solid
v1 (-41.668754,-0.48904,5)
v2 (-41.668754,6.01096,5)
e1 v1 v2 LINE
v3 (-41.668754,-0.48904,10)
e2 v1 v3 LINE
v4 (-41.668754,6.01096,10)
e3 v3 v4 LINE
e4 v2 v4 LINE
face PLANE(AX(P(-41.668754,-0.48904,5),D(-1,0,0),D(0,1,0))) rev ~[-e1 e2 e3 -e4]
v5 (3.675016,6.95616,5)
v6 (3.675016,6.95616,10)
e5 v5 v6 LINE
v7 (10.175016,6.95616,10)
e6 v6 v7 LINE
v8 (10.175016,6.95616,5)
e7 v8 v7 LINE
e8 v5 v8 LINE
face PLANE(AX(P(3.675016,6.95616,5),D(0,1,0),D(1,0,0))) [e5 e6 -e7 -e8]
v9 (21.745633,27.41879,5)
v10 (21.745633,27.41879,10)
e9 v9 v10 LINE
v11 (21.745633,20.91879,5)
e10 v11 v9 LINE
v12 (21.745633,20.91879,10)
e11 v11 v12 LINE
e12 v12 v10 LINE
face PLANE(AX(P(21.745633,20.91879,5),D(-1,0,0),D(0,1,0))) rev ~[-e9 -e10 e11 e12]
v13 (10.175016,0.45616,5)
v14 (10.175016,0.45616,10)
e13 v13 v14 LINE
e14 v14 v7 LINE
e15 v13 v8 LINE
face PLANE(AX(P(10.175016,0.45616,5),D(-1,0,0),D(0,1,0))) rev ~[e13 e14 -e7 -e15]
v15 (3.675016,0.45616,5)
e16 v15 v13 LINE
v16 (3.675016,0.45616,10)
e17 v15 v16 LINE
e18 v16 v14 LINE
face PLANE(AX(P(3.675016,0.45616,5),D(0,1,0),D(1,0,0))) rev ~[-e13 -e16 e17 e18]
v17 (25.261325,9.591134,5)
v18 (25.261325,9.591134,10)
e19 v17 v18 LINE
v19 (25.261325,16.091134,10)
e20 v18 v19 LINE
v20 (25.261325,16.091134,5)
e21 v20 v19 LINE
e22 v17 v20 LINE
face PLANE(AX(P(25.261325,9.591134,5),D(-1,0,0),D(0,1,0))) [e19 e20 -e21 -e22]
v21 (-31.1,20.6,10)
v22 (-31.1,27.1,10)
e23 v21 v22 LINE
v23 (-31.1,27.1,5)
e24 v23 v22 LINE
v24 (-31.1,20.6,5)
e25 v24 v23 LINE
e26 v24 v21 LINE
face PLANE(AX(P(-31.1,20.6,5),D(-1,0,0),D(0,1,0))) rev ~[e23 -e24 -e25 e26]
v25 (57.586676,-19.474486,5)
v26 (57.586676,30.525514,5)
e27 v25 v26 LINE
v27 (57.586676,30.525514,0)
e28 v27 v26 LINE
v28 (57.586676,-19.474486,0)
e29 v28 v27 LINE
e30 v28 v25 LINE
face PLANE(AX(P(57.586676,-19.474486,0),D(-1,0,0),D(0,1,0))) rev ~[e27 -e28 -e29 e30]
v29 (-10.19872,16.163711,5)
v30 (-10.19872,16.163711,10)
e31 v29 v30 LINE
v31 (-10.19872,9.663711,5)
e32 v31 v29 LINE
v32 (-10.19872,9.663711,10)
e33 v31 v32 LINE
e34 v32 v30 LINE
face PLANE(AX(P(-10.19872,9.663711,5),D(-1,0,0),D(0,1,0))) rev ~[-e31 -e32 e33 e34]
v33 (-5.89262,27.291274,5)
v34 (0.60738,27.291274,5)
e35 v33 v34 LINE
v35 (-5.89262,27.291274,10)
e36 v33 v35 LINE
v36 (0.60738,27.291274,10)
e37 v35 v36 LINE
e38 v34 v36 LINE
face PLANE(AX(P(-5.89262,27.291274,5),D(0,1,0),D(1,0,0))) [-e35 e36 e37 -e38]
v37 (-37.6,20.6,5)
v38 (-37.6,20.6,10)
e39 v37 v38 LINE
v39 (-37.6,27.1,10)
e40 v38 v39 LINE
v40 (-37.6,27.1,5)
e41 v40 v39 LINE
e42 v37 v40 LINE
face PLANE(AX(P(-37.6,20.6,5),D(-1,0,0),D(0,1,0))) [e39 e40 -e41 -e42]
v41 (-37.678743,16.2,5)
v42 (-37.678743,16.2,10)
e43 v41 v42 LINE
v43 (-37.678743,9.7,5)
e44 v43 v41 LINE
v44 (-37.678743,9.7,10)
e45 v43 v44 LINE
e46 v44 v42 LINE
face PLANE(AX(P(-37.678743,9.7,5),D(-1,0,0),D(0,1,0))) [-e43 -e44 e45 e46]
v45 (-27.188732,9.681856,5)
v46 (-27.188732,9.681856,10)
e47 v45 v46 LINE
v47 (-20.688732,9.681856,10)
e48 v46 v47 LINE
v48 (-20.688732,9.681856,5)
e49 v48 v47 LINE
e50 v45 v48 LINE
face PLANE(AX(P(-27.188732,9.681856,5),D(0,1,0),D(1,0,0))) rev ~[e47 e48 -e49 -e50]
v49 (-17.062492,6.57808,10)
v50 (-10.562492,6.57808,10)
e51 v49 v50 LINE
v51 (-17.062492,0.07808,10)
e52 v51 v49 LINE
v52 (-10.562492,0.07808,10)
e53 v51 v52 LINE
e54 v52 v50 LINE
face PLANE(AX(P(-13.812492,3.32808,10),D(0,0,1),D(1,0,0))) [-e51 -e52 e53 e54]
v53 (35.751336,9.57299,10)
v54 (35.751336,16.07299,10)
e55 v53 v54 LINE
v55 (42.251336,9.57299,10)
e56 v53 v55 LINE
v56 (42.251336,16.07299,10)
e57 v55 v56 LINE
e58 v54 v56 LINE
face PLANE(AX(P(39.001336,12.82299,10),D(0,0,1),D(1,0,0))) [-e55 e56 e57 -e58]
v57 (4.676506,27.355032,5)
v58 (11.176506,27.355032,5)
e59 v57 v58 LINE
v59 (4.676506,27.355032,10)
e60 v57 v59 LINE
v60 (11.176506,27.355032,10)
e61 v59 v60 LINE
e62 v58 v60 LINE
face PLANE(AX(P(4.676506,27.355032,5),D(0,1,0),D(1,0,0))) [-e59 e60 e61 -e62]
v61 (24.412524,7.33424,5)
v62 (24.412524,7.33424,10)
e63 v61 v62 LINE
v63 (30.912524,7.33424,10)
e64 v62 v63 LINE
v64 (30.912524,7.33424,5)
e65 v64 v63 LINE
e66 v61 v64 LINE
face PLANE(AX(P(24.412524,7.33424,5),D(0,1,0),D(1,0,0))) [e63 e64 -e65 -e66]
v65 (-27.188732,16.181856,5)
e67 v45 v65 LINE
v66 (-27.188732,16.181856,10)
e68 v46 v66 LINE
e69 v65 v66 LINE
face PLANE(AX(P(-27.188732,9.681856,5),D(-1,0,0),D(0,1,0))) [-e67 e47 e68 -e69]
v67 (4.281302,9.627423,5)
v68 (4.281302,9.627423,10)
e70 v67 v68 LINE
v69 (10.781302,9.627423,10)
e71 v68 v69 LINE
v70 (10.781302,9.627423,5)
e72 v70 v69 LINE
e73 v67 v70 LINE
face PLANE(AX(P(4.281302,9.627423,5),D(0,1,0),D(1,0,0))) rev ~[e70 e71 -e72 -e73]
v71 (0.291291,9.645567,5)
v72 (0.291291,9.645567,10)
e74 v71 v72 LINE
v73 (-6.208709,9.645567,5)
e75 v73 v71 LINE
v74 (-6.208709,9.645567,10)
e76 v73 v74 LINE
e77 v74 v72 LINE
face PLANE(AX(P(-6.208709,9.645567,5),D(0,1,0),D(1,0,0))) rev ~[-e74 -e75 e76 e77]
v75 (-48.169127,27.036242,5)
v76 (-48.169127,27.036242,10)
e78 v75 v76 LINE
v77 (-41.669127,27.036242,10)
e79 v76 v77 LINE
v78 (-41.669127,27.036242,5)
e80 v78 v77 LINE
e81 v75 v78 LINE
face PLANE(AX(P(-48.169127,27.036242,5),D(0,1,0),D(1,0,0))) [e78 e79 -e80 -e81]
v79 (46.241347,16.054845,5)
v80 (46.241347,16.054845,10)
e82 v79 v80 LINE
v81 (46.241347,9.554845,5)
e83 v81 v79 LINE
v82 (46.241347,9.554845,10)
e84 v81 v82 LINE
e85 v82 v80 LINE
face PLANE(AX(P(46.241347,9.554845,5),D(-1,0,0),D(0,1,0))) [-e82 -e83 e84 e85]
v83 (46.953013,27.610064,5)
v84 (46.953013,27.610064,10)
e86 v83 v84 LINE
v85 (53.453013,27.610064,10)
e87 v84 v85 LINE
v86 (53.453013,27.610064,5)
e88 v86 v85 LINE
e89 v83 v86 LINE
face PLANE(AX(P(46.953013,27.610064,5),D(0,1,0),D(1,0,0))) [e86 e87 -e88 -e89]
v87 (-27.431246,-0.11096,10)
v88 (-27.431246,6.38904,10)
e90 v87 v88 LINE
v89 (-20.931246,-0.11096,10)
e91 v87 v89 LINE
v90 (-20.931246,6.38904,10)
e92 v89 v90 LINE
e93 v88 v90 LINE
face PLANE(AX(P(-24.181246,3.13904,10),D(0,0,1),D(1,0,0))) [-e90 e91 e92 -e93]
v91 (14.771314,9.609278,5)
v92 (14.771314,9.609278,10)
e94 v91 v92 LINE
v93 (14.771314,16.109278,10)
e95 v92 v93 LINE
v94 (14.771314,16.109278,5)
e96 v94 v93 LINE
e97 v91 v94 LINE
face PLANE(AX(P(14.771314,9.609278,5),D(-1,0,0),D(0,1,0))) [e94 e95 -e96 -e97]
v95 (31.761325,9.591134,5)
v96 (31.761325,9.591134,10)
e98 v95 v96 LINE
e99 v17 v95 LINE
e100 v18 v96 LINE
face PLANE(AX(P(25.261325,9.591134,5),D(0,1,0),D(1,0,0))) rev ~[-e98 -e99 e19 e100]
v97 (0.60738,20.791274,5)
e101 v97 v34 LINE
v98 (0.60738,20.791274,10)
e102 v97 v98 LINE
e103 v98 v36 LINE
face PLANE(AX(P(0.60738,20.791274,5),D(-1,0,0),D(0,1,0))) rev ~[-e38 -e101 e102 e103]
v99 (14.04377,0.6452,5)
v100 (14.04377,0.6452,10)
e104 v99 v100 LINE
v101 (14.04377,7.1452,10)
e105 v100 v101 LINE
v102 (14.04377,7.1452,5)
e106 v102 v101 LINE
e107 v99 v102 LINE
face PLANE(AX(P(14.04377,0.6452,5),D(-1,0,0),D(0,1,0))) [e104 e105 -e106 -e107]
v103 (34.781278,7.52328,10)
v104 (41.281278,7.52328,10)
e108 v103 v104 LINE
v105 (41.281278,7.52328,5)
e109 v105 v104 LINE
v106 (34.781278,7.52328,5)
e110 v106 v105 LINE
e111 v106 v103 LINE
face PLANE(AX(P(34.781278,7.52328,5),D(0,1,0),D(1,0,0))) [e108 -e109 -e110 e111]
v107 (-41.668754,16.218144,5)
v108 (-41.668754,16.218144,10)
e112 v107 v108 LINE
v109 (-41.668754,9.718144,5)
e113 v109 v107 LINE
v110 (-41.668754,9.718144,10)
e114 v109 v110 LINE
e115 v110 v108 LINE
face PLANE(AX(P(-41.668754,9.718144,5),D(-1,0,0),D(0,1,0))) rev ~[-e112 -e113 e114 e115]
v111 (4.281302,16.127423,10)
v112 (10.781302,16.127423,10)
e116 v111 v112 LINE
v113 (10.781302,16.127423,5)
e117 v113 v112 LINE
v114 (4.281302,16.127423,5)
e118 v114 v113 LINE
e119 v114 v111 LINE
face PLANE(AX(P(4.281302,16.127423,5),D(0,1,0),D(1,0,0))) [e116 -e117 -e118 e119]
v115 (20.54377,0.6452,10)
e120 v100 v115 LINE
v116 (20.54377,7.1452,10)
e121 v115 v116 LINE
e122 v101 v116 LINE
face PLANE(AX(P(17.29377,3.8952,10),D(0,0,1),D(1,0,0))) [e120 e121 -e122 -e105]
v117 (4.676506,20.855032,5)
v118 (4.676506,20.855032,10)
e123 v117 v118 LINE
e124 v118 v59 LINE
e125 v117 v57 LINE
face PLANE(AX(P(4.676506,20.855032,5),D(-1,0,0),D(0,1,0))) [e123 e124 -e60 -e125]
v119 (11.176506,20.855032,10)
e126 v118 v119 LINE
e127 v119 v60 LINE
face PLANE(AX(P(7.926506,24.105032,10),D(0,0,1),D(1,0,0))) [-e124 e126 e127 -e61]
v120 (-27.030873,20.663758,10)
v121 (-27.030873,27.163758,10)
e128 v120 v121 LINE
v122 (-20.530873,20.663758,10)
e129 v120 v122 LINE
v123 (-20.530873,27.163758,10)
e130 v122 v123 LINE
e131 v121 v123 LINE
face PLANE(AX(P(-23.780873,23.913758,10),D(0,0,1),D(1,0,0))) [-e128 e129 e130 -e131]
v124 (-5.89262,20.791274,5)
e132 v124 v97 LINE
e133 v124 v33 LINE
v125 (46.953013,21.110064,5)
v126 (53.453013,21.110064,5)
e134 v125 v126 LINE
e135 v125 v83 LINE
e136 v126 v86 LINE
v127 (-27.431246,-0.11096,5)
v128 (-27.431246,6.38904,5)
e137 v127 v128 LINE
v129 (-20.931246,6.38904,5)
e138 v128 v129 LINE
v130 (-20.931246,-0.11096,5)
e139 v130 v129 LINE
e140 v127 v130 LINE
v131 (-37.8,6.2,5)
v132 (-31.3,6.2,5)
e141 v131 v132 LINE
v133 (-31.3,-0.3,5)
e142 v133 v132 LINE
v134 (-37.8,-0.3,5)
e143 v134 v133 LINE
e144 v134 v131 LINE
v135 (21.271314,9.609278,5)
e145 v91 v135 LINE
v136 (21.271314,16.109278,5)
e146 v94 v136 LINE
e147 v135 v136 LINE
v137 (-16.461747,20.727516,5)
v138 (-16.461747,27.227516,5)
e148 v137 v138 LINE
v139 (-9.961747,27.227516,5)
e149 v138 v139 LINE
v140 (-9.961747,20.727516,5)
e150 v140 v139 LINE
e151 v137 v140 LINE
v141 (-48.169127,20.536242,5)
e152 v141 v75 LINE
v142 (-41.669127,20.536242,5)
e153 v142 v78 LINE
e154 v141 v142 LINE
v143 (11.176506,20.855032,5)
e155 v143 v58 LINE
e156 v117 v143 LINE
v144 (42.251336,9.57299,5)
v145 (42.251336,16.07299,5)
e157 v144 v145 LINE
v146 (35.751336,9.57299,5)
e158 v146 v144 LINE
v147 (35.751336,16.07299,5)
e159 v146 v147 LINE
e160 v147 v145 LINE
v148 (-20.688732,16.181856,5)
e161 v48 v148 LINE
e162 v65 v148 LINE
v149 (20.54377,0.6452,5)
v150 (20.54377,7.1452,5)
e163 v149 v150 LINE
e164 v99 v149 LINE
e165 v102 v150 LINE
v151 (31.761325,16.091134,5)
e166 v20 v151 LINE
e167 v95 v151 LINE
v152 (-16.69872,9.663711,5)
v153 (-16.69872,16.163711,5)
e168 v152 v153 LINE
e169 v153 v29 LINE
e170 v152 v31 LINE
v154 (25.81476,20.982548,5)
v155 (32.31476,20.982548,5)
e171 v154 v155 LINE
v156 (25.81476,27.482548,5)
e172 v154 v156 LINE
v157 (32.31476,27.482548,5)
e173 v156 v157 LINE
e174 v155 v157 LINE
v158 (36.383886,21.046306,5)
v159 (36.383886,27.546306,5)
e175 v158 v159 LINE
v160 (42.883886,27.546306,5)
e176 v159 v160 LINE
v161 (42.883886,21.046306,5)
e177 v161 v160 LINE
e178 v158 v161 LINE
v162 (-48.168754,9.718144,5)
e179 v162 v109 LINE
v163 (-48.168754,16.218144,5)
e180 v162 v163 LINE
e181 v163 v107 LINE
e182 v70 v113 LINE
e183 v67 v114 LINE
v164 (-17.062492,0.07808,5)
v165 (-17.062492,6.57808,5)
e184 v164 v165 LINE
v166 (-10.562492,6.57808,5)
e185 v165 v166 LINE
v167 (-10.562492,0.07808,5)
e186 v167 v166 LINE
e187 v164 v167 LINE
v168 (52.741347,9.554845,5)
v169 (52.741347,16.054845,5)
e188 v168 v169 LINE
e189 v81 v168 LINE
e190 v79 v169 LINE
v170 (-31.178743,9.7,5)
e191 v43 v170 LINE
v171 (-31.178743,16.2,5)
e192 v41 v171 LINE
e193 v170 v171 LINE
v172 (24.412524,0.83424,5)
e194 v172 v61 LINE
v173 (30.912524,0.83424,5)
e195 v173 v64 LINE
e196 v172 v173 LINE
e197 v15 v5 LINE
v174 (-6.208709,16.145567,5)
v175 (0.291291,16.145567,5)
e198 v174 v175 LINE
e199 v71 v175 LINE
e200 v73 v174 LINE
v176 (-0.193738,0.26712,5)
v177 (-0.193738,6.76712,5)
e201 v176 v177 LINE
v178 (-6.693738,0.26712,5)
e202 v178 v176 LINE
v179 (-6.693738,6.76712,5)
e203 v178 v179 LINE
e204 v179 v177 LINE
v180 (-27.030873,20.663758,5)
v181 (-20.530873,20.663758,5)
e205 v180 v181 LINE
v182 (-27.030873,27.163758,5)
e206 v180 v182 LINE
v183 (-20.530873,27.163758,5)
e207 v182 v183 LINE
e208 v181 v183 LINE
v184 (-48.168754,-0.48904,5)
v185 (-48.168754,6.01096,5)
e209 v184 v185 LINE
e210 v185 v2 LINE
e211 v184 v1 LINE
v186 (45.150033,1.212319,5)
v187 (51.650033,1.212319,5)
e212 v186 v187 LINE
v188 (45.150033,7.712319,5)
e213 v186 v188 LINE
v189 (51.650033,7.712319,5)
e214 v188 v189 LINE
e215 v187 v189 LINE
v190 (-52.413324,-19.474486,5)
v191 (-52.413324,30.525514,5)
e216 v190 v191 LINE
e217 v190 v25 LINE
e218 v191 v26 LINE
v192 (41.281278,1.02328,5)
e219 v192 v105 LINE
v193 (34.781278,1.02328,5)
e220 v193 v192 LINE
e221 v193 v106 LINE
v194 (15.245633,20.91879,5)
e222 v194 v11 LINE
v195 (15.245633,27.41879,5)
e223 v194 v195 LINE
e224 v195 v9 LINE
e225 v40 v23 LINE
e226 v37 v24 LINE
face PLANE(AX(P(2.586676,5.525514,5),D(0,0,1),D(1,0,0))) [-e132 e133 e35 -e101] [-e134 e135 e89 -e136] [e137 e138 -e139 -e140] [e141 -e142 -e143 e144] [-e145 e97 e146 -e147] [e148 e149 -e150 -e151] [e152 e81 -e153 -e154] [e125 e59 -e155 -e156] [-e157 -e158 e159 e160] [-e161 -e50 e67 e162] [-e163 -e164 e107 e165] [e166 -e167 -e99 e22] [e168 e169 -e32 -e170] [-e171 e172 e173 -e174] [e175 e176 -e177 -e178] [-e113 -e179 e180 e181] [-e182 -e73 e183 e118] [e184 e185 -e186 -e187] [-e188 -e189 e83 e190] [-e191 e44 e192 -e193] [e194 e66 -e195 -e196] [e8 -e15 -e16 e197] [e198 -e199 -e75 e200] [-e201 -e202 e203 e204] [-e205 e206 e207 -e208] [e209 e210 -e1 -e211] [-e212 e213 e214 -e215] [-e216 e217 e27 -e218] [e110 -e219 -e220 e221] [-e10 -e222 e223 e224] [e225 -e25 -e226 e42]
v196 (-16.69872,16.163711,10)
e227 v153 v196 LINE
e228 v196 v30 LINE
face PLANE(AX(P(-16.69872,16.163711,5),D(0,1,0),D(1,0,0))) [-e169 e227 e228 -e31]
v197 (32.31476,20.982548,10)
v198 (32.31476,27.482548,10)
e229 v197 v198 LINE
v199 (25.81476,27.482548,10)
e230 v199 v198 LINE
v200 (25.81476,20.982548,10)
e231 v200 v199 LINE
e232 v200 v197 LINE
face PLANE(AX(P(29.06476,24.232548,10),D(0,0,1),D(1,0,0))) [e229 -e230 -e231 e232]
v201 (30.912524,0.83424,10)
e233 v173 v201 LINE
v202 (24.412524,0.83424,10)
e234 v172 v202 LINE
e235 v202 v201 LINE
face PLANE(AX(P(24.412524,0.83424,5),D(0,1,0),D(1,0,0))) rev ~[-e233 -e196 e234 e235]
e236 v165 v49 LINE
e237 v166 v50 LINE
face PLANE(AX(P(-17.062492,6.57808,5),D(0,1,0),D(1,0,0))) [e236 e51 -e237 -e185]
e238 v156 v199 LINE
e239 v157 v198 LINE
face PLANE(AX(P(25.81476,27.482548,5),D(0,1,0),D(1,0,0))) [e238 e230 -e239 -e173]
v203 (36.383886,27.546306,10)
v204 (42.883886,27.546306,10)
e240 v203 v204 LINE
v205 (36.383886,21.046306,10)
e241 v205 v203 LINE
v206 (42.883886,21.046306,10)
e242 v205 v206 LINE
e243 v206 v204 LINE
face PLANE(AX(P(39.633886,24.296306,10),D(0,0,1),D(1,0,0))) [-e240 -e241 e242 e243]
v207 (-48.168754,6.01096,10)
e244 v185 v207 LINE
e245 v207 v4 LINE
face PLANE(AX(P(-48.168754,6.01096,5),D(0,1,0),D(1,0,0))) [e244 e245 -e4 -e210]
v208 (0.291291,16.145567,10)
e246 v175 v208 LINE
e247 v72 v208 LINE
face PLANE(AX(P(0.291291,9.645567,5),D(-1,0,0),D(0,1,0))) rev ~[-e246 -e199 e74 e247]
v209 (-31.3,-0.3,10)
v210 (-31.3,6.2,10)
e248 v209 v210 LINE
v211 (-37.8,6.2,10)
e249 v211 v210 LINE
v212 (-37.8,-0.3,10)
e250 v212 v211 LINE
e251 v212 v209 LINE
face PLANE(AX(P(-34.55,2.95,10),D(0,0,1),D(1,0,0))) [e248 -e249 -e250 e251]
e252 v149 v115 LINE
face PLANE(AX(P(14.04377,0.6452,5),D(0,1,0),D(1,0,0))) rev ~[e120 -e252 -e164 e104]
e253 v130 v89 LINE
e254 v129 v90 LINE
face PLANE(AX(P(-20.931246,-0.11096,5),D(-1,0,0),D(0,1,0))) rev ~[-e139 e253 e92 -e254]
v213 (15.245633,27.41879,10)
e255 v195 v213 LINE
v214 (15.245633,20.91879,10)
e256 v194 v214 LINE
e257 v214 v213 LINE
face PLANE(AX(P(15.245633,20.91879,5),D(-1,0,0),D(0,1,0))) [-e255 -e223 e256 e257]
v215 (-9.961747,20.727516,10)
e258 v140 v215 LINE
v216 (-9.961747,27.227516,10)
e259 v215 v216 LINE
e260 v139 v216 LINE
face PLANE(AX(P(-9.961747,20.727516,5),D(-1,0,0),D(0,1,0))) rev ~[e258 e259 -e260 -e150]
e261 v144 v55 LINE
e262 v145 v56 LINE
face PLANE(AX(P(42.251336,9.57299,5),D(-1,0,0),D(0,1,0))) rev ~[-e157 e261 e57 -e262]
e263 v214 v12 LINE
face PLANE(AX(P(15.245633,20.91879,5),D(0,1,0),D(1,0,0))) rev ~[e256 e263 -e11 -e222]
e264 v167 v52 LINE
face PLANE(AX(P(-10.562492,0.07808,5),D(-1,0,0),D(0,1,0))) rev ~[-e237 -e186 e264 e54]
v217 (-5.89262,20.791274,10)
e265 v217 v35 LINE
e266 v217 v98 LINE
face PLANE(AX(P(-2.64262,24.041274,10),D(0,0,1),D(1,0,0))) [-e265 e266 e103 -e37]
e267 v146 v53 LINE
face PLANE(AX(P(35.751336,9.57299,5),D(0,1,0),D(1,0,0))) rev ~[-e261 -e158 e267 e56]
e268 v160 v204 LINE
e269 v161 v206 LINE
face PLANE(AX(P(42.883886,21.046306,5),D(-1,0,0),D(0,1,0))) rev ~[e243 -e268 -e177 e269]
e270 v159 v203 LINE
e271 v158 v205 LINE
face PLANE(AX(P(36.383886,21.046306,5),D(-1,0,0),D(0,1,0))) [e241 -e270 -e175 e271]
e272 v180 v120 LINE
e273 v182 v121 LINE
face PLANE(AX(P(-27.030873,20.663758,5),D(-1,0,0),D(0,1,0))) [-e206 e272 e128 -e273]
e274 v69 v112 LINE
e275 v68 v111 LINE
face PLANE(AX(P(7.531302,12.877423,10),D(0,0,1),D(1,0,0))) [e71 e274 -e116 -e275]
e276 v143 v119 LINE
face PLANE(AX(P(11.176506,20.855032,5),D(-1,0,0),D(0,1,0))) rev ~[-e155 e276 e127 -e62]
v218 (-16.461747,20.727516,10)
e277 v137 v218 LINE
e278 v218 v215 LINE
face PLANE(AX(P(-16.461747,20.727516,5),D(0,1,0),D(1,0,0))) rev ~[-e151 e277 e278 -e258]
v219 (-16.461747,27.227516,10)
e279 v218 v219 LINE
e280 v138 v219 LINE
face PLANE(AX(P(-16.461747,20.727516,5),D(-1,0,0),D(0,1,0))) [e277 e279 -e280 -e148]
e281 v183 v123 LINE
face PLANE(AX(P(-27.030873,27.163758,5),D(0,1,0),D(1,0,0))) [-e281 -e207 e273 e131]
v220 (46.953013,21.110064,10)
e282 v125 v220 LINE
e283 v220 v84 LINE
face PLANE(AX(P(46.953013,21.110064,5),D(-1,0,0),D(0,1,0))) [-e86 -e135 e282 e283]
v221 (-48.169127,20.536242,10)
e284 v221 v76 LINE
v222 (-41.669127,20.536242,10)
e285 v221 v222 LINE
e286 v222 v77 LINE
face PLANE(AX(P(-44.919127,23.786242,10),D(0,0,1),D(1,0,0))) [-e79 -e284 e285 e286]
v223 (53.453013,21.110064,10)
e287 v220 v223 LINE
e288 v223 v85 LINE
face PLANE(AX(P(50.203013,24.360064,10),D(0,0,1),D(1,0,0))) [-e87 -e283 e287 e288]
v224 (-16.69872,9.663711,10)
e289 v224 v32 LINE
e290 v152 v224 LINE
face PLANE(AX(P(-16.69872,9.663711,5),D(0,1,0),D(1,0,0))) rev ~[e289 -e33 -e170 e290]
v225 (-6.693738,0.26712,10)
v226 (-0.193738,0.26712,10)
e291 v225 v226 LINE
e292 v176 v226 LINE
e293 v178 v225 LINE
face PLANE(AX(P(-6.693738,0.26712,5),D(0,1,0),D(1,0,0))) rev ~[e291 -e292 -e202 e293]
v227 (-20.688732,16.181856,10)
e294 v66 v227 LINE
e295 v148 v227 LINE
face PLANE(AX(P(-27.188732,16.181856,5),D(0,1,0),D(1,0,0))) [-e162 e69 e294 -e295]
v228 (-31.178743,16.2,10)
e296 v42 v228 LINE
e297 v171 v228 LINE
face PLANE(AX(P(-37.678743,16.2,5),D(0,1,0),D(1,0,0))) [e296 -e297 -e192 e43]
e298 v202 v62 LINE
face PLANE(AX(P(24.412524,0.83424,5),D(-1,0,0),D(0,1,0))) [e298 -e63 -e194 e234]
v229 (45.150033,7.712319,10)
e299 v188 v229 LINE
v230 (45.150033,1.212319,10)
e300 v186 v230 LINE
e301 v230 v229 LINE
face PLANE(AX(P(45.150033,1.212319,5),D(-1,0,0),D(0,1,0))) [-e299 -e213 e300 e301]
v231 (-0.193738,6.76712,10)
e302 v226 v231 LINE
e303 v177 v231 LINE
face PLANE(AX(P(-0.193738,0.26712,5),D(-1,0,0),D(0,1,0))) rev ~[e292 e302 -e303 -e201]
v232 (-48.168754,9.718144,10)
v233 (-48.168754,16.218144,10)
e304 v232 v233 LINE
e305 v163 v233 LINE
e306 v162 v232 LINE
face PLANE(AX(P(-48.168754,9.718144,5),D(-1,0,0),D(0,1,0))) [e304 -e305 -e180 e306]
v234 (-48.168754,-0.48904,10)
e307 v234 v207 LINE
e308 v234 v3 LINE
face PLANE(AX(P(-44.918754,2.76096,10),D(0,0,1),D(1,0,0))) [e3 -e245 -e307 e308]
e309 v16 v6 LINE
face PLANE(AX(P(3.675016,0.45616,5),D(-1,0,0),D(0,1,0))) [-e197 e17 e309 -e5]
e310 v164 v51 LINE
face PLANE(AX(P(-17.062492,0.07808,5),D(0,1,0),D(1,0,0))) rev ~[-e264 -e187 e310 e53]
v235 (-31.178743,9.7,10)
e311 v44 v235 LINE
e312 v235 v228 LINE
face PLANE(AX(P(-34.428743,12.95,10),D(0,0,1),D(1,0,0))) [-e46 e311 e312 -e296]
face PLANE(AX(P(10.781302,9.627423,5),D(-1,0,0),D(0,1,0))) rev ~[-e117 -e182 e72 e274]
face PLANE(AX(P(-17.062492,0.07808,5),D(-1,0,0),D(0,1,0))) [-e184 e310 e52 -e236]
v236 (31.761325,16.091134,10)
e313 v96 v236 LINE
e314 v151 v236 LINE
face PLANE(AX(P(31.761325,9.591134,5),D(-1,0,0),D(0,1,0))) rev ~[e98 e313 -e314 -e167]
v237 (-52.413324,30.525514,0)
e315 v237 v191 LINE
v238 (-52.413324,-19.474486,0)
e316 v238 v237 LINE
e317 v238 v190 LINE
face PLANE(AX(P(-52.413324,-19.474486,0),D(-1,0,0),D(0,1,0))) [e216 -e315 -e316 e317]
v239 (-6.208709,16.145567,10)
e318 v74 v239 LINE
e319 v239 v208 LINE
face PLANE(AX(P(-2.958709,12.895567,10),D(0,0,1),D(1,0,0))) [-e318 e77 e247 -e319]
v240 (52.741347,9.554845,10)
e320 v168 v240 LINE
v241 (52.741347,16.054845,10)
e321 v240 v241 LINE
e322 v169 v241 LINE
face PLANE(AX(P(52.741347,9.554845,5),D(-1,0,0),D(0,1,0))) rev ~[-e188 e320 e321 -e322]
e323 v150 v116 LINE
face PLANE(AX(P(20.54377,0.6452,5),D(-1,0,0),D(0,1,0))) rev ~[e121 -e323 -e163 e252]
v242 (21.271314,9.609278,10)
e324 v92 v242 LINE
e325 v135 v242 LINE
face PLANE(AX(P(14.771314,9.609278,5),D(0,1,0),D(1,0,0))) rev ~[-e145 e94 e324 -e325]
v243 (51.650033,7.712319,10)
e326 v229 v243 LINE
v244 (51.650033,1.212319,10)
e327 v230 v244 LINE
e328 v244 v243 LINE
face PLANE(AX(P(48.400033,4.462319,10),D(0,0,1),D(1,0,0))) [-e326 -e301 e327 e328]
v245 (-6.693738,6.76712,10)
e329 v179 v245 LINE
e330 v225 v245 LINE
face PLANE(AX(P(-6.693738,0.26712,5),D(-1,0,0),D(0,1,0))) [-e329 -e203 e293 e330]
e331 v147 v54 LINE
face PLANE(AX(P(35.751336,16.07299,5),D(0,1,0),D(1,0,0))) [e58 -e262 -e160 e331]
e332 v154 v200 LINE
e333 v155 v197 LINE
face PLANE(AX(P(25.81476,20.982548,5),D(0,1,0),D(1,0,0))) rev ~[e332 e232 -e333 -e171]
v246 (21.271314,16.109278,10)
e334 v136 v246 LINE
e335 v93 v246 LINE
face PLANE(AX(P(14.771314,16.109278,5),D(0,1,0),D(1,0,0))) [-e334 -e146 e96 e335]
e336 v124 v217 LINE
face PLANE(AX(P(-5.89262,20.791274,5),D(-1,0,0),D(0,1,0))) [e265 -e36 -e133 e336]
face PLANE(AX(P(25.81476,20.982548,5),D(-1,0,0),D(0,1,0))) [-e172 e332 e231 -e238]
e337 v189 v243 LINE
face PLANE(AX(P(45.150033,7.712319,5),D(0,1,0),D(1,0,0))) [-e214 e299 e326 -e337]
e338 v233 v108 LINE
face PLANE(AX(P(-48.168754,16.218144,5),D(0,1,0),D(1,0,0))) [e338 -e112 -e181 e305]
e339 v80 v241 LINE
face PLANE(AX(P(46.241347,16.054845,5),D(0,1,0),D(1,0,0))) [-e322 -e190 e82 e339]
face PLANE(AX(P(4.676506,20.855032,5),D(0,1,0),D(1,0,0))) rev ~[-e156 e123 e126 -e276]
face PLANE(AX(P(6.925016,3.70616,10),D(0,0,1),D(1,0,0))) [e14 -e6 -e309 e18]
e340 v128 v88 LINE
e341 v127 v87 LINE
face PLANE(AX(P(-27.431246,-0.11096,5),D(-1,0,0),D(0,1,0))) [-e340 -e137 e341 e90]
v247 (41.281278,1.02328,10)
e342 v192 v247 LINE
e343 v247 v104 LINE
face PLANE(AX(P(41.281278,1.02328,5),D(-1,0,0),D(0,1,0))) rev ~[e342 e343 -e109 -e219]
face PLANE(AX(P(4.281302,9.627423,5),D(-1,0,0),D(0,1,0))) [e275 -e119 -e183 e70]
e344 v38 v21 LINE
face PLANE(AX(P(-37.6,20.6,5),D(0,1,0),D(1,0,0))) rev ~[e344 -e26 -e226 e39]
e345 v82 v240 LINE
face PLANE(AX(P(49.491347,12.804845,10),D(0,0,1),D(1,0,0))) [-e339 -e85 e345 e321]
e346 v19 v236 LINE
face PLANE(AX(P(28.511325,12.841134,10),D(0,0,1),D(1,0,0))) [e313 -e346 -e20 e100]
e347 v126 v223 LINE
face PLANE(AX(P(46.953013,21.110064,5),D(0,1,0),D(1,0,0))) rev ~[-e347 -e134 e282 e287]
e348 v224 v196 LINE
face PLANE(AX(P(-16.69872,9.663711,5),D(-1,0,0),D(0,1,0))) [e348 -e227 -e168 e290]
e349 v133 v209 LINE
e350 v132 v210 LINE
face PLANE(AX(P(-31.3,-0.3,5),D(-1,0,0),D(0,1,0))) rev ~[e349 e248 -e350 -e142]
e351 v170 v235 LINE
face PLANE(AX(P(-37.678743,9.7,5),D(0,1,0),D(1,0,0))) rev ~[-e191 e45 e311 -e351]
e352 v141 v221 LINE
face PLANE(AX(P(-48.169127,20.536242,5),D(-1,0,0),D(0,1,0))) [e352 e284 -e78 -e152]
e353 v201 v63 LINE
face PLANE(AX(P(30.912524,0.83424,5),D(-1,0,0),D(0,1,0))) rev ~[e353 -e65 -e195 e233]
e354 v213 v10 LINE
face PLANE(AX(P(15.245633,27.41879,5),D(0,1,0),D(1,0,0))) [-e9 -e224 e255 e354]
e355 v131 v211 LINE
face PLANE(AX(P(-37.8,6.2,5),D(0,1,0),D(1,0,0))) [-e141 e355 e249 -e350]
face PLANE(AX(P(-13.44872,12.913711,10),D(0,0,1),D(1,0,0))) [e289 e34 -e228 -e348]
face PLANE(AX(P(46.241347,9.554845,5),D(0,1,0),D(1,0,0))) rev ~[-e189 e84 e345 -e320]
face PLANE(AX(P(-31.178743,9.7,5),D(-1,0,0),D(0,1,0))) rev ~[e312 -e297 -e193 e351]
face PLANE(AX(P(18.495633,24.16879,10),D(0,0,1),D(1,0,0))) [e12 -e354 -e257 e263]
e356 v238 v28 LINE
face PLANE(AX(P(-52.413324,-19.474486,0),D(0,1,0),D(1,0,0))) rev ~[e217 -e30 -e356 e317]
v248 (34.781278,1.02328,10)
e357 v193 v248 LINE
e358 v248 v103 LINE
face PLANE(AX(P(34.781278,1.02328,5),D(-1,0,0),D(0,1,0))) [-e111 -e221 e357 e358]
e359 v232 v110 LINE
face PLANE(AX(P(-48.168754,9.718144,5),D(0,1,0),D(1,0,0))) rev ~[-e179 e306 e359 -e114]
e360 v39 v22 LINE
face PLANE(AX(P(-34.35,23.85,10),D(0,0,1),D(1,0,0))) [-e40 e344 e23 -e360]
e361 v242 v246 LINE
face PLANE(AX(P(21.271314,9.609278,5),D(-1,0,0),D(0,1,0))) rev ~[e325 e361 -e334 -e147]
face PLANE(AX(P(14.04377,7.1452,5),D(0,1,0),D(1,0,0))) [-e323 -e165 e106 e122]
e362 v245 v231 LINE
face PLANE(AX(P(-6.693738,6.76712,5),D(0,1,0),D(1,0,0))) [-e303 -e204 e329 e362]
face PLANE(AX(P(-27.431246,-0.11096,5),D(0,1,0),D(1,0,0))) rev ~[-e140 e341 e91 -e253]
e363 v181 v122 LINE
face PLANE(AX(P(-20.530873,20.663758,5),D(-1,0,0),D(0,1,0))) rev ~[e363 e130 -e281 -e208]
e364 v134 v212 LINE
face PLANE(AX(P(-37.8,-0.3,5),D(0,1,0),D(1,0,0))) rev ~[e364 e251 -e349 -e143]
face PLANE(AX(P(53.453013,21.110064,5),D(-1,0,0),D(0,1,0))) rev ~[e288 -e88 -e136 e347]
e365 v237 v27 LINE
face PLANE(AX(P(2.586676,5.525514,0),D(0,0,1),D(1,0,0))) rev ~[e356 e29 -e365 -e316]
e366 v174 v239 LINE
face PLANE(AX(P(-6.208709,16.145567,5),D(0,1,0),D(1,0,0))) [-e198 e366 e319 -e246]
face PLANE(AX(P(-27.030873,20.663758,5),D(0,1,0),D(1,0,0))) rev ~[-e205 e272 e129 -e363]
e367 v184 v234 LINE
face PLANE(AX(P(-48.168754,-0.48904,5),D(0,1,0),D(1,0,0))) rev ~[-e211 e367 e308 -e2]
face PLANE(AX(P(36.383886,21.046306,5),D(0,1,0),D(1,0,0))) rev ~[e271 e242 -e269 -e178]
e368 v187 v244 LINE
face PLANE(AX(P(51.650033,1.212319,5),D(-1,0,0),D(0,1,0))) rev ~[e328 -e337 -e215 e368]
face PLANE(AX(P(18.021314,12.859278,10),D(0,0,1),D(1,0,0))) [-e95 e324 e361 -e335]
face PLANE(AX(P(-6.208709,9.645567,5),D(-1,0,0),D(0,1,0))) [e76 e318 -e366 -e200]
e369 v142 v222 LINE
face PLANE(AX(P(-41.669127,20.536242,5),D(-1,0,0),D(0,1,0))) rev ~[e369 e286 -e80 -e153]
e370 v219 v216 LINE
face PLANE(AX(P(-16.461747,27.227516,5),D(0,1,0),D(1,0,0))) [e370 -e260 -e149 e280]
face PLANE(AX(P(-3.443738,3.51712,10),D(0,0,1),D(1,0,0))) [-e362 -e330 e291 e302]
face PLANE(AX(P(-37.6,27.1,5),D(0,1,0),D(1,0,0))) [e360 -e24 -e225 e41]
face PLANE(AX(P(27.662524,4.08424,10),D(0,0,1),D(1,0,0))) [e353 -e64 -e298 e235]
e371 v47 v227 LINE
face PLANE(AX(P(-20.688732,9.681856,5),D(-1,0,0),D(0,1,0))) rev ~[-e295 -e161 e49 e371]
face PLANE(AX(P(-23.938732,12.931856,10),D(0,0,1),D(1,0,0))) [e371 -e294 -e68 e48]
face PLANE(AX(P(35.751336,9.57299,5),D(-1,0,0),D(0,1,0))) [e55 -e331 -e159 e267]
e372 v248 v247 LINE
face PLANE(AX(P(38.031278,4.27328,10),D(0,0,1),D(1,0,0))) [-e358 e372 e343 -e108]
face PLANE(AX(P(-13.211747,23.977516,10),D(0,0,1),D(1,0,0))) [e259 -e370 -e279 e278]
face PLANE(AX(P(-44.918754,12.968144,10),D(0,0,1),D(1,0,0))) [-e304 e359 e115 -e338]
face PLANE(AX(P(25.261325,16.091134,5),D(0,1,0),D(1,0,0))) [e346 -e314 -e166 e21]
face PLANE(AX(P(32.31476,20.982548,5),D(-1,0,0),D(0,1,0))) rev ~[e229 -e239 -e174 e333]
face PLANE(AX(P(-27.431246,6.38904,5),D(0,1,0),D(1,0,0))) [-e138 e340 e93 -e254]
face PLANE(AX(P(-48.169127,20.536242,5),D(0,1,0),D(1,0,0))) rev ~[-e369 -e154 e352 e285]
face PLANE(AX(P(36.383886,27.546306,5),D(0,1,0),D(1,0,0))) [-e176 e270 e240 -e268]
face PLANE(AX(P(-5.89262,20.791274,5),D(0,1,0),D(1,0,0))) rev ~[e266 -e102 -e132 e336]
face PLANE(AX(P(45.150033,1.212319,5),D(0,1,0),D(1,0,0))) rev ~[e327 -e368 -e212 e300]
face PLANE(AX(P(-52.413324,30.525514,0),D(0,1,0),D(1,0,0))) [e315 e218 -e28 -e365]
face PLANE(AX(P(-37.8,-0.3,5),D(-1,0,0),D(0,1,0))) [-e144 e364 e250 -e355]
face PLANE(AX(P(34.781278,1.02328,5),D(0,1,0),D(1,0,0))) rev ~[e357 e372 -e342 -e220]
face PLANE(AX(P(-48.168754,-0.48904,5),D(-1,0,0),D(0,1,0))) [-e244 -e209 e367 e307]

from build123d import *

# Parameters (mm, degrees)
F0_W     = 110
F0_H     = 50
F1_DEPTH = 5
F2_W     = 6.5
F2_H     = 6.5
F3_DEPTH = 5


with BuildPart() as f1:
    # F0 (on Top) → F1 (new body)
    with BuildSketch(Plane.XY):
        with Locations((2.586676, 5.525514)):
            Rectangle(F0_W, F0_H)
    extrude(amount=F1_DEPTH)

    # F2 (on face) → F3 (join)
    with BuildSketch(Plane.XY.offset(5)):
        with Locations((-44.919127, 23.786242)):
            Rectangle(F2_W, F2_H)
        with Locations((-34.35, 23.85)):
            Rectangle(F2_W, F2_H)
        with Locations((-23.780873, 23.913758)):
            Rectangle(F2_W, F2_H)
        with Locations((-13.211747, 23.977516)):
            Rectangle(F2_W, F2_H)
        with Locations((-2.64262, 24.041274)):
            Rectangle(F2_W, F2_H)
        with Locations((7.926506, 24.105032)):
            Rectangle(F2_W, F2_H)
        with Locations((18.495633, 24.16879)):
            Rectangle(F2_W, F2_H)
        with Locations((29.06476, 24.232548)):
            Rectangle(F2_W, F2_H)
        with Locations((39.633886, 24.296306)):
            Rectangle(F2_W, F2_H)
        with Locations((50.203013, 24.360064)):
            Rectangle(F2_W, F2_H)
        with Locations((-44.918754, 12.968144)):
            Rectangle(F2_W, F2_H)
        with Locations((-34.428743, 12.95)):
            Rectangle(F2_W, F2_H)
        with Locations((-23.938732, 12.931856)):
            Rectangle(F2_W, F2_H)
        with Locations((-13.44872, 12.913711)):
            Rectangle(F2_W, F2_H)
        with Locations((-2.958709, 12.895567)):
            Rectangle(F2_W, F2_H)
        with Locations((7.531302, 12.877423)):
            Rectangle(F2_W, F2_H)
        with Locations((18.021314, 12.859278)):
            Rectangle(F2_W, F2_H)
        with Locations((28.511325, 12.841134)):
            Rectangle(F2_W, F2_H)
        with Locations((39.001336, 12.82299)):
            Rectangle(F2_W, F2_H)
        with Locations((49.491347, 12.804845)):
            Rectangle(F2_W, F2_H)
        with Locations((-44.918754, 2.76096)):
            Rectangle(F2_W, F2_H)
        with Locations((-34.55, 2.95)):
            Rectangle(F2_W, F2_H)
        with Locations((-24.181246, 3.13904)):
            Rectangle(F2_W, F2_H)
        with Locations((-13.812492, 3.32808)):
            Rectangle(F2_W, F2_H)
        with Locations((-3.443738, 3.51712)):
            Rectangle(F2_W, F2_H)
        with Locations((6.925016, 3.70616)):
            Rectangle(F2_W, F2_H)
        with Locations((17.29377, 3.8952)):
            Rectangle(F2_W, F2_H)
        with Locations((27.662524, 4.08424)):
            Rectangle(F2_W, F2_H)
        with Locations((38.031278, 4.27328)):
            Rectangle(F2_W, F2_H)
        with Locations((48.400033, 4.462319)):
            Rectangle(F2_W, F2_H)
    extrude(amount=F3_DEPTH)


solid = f1.part
